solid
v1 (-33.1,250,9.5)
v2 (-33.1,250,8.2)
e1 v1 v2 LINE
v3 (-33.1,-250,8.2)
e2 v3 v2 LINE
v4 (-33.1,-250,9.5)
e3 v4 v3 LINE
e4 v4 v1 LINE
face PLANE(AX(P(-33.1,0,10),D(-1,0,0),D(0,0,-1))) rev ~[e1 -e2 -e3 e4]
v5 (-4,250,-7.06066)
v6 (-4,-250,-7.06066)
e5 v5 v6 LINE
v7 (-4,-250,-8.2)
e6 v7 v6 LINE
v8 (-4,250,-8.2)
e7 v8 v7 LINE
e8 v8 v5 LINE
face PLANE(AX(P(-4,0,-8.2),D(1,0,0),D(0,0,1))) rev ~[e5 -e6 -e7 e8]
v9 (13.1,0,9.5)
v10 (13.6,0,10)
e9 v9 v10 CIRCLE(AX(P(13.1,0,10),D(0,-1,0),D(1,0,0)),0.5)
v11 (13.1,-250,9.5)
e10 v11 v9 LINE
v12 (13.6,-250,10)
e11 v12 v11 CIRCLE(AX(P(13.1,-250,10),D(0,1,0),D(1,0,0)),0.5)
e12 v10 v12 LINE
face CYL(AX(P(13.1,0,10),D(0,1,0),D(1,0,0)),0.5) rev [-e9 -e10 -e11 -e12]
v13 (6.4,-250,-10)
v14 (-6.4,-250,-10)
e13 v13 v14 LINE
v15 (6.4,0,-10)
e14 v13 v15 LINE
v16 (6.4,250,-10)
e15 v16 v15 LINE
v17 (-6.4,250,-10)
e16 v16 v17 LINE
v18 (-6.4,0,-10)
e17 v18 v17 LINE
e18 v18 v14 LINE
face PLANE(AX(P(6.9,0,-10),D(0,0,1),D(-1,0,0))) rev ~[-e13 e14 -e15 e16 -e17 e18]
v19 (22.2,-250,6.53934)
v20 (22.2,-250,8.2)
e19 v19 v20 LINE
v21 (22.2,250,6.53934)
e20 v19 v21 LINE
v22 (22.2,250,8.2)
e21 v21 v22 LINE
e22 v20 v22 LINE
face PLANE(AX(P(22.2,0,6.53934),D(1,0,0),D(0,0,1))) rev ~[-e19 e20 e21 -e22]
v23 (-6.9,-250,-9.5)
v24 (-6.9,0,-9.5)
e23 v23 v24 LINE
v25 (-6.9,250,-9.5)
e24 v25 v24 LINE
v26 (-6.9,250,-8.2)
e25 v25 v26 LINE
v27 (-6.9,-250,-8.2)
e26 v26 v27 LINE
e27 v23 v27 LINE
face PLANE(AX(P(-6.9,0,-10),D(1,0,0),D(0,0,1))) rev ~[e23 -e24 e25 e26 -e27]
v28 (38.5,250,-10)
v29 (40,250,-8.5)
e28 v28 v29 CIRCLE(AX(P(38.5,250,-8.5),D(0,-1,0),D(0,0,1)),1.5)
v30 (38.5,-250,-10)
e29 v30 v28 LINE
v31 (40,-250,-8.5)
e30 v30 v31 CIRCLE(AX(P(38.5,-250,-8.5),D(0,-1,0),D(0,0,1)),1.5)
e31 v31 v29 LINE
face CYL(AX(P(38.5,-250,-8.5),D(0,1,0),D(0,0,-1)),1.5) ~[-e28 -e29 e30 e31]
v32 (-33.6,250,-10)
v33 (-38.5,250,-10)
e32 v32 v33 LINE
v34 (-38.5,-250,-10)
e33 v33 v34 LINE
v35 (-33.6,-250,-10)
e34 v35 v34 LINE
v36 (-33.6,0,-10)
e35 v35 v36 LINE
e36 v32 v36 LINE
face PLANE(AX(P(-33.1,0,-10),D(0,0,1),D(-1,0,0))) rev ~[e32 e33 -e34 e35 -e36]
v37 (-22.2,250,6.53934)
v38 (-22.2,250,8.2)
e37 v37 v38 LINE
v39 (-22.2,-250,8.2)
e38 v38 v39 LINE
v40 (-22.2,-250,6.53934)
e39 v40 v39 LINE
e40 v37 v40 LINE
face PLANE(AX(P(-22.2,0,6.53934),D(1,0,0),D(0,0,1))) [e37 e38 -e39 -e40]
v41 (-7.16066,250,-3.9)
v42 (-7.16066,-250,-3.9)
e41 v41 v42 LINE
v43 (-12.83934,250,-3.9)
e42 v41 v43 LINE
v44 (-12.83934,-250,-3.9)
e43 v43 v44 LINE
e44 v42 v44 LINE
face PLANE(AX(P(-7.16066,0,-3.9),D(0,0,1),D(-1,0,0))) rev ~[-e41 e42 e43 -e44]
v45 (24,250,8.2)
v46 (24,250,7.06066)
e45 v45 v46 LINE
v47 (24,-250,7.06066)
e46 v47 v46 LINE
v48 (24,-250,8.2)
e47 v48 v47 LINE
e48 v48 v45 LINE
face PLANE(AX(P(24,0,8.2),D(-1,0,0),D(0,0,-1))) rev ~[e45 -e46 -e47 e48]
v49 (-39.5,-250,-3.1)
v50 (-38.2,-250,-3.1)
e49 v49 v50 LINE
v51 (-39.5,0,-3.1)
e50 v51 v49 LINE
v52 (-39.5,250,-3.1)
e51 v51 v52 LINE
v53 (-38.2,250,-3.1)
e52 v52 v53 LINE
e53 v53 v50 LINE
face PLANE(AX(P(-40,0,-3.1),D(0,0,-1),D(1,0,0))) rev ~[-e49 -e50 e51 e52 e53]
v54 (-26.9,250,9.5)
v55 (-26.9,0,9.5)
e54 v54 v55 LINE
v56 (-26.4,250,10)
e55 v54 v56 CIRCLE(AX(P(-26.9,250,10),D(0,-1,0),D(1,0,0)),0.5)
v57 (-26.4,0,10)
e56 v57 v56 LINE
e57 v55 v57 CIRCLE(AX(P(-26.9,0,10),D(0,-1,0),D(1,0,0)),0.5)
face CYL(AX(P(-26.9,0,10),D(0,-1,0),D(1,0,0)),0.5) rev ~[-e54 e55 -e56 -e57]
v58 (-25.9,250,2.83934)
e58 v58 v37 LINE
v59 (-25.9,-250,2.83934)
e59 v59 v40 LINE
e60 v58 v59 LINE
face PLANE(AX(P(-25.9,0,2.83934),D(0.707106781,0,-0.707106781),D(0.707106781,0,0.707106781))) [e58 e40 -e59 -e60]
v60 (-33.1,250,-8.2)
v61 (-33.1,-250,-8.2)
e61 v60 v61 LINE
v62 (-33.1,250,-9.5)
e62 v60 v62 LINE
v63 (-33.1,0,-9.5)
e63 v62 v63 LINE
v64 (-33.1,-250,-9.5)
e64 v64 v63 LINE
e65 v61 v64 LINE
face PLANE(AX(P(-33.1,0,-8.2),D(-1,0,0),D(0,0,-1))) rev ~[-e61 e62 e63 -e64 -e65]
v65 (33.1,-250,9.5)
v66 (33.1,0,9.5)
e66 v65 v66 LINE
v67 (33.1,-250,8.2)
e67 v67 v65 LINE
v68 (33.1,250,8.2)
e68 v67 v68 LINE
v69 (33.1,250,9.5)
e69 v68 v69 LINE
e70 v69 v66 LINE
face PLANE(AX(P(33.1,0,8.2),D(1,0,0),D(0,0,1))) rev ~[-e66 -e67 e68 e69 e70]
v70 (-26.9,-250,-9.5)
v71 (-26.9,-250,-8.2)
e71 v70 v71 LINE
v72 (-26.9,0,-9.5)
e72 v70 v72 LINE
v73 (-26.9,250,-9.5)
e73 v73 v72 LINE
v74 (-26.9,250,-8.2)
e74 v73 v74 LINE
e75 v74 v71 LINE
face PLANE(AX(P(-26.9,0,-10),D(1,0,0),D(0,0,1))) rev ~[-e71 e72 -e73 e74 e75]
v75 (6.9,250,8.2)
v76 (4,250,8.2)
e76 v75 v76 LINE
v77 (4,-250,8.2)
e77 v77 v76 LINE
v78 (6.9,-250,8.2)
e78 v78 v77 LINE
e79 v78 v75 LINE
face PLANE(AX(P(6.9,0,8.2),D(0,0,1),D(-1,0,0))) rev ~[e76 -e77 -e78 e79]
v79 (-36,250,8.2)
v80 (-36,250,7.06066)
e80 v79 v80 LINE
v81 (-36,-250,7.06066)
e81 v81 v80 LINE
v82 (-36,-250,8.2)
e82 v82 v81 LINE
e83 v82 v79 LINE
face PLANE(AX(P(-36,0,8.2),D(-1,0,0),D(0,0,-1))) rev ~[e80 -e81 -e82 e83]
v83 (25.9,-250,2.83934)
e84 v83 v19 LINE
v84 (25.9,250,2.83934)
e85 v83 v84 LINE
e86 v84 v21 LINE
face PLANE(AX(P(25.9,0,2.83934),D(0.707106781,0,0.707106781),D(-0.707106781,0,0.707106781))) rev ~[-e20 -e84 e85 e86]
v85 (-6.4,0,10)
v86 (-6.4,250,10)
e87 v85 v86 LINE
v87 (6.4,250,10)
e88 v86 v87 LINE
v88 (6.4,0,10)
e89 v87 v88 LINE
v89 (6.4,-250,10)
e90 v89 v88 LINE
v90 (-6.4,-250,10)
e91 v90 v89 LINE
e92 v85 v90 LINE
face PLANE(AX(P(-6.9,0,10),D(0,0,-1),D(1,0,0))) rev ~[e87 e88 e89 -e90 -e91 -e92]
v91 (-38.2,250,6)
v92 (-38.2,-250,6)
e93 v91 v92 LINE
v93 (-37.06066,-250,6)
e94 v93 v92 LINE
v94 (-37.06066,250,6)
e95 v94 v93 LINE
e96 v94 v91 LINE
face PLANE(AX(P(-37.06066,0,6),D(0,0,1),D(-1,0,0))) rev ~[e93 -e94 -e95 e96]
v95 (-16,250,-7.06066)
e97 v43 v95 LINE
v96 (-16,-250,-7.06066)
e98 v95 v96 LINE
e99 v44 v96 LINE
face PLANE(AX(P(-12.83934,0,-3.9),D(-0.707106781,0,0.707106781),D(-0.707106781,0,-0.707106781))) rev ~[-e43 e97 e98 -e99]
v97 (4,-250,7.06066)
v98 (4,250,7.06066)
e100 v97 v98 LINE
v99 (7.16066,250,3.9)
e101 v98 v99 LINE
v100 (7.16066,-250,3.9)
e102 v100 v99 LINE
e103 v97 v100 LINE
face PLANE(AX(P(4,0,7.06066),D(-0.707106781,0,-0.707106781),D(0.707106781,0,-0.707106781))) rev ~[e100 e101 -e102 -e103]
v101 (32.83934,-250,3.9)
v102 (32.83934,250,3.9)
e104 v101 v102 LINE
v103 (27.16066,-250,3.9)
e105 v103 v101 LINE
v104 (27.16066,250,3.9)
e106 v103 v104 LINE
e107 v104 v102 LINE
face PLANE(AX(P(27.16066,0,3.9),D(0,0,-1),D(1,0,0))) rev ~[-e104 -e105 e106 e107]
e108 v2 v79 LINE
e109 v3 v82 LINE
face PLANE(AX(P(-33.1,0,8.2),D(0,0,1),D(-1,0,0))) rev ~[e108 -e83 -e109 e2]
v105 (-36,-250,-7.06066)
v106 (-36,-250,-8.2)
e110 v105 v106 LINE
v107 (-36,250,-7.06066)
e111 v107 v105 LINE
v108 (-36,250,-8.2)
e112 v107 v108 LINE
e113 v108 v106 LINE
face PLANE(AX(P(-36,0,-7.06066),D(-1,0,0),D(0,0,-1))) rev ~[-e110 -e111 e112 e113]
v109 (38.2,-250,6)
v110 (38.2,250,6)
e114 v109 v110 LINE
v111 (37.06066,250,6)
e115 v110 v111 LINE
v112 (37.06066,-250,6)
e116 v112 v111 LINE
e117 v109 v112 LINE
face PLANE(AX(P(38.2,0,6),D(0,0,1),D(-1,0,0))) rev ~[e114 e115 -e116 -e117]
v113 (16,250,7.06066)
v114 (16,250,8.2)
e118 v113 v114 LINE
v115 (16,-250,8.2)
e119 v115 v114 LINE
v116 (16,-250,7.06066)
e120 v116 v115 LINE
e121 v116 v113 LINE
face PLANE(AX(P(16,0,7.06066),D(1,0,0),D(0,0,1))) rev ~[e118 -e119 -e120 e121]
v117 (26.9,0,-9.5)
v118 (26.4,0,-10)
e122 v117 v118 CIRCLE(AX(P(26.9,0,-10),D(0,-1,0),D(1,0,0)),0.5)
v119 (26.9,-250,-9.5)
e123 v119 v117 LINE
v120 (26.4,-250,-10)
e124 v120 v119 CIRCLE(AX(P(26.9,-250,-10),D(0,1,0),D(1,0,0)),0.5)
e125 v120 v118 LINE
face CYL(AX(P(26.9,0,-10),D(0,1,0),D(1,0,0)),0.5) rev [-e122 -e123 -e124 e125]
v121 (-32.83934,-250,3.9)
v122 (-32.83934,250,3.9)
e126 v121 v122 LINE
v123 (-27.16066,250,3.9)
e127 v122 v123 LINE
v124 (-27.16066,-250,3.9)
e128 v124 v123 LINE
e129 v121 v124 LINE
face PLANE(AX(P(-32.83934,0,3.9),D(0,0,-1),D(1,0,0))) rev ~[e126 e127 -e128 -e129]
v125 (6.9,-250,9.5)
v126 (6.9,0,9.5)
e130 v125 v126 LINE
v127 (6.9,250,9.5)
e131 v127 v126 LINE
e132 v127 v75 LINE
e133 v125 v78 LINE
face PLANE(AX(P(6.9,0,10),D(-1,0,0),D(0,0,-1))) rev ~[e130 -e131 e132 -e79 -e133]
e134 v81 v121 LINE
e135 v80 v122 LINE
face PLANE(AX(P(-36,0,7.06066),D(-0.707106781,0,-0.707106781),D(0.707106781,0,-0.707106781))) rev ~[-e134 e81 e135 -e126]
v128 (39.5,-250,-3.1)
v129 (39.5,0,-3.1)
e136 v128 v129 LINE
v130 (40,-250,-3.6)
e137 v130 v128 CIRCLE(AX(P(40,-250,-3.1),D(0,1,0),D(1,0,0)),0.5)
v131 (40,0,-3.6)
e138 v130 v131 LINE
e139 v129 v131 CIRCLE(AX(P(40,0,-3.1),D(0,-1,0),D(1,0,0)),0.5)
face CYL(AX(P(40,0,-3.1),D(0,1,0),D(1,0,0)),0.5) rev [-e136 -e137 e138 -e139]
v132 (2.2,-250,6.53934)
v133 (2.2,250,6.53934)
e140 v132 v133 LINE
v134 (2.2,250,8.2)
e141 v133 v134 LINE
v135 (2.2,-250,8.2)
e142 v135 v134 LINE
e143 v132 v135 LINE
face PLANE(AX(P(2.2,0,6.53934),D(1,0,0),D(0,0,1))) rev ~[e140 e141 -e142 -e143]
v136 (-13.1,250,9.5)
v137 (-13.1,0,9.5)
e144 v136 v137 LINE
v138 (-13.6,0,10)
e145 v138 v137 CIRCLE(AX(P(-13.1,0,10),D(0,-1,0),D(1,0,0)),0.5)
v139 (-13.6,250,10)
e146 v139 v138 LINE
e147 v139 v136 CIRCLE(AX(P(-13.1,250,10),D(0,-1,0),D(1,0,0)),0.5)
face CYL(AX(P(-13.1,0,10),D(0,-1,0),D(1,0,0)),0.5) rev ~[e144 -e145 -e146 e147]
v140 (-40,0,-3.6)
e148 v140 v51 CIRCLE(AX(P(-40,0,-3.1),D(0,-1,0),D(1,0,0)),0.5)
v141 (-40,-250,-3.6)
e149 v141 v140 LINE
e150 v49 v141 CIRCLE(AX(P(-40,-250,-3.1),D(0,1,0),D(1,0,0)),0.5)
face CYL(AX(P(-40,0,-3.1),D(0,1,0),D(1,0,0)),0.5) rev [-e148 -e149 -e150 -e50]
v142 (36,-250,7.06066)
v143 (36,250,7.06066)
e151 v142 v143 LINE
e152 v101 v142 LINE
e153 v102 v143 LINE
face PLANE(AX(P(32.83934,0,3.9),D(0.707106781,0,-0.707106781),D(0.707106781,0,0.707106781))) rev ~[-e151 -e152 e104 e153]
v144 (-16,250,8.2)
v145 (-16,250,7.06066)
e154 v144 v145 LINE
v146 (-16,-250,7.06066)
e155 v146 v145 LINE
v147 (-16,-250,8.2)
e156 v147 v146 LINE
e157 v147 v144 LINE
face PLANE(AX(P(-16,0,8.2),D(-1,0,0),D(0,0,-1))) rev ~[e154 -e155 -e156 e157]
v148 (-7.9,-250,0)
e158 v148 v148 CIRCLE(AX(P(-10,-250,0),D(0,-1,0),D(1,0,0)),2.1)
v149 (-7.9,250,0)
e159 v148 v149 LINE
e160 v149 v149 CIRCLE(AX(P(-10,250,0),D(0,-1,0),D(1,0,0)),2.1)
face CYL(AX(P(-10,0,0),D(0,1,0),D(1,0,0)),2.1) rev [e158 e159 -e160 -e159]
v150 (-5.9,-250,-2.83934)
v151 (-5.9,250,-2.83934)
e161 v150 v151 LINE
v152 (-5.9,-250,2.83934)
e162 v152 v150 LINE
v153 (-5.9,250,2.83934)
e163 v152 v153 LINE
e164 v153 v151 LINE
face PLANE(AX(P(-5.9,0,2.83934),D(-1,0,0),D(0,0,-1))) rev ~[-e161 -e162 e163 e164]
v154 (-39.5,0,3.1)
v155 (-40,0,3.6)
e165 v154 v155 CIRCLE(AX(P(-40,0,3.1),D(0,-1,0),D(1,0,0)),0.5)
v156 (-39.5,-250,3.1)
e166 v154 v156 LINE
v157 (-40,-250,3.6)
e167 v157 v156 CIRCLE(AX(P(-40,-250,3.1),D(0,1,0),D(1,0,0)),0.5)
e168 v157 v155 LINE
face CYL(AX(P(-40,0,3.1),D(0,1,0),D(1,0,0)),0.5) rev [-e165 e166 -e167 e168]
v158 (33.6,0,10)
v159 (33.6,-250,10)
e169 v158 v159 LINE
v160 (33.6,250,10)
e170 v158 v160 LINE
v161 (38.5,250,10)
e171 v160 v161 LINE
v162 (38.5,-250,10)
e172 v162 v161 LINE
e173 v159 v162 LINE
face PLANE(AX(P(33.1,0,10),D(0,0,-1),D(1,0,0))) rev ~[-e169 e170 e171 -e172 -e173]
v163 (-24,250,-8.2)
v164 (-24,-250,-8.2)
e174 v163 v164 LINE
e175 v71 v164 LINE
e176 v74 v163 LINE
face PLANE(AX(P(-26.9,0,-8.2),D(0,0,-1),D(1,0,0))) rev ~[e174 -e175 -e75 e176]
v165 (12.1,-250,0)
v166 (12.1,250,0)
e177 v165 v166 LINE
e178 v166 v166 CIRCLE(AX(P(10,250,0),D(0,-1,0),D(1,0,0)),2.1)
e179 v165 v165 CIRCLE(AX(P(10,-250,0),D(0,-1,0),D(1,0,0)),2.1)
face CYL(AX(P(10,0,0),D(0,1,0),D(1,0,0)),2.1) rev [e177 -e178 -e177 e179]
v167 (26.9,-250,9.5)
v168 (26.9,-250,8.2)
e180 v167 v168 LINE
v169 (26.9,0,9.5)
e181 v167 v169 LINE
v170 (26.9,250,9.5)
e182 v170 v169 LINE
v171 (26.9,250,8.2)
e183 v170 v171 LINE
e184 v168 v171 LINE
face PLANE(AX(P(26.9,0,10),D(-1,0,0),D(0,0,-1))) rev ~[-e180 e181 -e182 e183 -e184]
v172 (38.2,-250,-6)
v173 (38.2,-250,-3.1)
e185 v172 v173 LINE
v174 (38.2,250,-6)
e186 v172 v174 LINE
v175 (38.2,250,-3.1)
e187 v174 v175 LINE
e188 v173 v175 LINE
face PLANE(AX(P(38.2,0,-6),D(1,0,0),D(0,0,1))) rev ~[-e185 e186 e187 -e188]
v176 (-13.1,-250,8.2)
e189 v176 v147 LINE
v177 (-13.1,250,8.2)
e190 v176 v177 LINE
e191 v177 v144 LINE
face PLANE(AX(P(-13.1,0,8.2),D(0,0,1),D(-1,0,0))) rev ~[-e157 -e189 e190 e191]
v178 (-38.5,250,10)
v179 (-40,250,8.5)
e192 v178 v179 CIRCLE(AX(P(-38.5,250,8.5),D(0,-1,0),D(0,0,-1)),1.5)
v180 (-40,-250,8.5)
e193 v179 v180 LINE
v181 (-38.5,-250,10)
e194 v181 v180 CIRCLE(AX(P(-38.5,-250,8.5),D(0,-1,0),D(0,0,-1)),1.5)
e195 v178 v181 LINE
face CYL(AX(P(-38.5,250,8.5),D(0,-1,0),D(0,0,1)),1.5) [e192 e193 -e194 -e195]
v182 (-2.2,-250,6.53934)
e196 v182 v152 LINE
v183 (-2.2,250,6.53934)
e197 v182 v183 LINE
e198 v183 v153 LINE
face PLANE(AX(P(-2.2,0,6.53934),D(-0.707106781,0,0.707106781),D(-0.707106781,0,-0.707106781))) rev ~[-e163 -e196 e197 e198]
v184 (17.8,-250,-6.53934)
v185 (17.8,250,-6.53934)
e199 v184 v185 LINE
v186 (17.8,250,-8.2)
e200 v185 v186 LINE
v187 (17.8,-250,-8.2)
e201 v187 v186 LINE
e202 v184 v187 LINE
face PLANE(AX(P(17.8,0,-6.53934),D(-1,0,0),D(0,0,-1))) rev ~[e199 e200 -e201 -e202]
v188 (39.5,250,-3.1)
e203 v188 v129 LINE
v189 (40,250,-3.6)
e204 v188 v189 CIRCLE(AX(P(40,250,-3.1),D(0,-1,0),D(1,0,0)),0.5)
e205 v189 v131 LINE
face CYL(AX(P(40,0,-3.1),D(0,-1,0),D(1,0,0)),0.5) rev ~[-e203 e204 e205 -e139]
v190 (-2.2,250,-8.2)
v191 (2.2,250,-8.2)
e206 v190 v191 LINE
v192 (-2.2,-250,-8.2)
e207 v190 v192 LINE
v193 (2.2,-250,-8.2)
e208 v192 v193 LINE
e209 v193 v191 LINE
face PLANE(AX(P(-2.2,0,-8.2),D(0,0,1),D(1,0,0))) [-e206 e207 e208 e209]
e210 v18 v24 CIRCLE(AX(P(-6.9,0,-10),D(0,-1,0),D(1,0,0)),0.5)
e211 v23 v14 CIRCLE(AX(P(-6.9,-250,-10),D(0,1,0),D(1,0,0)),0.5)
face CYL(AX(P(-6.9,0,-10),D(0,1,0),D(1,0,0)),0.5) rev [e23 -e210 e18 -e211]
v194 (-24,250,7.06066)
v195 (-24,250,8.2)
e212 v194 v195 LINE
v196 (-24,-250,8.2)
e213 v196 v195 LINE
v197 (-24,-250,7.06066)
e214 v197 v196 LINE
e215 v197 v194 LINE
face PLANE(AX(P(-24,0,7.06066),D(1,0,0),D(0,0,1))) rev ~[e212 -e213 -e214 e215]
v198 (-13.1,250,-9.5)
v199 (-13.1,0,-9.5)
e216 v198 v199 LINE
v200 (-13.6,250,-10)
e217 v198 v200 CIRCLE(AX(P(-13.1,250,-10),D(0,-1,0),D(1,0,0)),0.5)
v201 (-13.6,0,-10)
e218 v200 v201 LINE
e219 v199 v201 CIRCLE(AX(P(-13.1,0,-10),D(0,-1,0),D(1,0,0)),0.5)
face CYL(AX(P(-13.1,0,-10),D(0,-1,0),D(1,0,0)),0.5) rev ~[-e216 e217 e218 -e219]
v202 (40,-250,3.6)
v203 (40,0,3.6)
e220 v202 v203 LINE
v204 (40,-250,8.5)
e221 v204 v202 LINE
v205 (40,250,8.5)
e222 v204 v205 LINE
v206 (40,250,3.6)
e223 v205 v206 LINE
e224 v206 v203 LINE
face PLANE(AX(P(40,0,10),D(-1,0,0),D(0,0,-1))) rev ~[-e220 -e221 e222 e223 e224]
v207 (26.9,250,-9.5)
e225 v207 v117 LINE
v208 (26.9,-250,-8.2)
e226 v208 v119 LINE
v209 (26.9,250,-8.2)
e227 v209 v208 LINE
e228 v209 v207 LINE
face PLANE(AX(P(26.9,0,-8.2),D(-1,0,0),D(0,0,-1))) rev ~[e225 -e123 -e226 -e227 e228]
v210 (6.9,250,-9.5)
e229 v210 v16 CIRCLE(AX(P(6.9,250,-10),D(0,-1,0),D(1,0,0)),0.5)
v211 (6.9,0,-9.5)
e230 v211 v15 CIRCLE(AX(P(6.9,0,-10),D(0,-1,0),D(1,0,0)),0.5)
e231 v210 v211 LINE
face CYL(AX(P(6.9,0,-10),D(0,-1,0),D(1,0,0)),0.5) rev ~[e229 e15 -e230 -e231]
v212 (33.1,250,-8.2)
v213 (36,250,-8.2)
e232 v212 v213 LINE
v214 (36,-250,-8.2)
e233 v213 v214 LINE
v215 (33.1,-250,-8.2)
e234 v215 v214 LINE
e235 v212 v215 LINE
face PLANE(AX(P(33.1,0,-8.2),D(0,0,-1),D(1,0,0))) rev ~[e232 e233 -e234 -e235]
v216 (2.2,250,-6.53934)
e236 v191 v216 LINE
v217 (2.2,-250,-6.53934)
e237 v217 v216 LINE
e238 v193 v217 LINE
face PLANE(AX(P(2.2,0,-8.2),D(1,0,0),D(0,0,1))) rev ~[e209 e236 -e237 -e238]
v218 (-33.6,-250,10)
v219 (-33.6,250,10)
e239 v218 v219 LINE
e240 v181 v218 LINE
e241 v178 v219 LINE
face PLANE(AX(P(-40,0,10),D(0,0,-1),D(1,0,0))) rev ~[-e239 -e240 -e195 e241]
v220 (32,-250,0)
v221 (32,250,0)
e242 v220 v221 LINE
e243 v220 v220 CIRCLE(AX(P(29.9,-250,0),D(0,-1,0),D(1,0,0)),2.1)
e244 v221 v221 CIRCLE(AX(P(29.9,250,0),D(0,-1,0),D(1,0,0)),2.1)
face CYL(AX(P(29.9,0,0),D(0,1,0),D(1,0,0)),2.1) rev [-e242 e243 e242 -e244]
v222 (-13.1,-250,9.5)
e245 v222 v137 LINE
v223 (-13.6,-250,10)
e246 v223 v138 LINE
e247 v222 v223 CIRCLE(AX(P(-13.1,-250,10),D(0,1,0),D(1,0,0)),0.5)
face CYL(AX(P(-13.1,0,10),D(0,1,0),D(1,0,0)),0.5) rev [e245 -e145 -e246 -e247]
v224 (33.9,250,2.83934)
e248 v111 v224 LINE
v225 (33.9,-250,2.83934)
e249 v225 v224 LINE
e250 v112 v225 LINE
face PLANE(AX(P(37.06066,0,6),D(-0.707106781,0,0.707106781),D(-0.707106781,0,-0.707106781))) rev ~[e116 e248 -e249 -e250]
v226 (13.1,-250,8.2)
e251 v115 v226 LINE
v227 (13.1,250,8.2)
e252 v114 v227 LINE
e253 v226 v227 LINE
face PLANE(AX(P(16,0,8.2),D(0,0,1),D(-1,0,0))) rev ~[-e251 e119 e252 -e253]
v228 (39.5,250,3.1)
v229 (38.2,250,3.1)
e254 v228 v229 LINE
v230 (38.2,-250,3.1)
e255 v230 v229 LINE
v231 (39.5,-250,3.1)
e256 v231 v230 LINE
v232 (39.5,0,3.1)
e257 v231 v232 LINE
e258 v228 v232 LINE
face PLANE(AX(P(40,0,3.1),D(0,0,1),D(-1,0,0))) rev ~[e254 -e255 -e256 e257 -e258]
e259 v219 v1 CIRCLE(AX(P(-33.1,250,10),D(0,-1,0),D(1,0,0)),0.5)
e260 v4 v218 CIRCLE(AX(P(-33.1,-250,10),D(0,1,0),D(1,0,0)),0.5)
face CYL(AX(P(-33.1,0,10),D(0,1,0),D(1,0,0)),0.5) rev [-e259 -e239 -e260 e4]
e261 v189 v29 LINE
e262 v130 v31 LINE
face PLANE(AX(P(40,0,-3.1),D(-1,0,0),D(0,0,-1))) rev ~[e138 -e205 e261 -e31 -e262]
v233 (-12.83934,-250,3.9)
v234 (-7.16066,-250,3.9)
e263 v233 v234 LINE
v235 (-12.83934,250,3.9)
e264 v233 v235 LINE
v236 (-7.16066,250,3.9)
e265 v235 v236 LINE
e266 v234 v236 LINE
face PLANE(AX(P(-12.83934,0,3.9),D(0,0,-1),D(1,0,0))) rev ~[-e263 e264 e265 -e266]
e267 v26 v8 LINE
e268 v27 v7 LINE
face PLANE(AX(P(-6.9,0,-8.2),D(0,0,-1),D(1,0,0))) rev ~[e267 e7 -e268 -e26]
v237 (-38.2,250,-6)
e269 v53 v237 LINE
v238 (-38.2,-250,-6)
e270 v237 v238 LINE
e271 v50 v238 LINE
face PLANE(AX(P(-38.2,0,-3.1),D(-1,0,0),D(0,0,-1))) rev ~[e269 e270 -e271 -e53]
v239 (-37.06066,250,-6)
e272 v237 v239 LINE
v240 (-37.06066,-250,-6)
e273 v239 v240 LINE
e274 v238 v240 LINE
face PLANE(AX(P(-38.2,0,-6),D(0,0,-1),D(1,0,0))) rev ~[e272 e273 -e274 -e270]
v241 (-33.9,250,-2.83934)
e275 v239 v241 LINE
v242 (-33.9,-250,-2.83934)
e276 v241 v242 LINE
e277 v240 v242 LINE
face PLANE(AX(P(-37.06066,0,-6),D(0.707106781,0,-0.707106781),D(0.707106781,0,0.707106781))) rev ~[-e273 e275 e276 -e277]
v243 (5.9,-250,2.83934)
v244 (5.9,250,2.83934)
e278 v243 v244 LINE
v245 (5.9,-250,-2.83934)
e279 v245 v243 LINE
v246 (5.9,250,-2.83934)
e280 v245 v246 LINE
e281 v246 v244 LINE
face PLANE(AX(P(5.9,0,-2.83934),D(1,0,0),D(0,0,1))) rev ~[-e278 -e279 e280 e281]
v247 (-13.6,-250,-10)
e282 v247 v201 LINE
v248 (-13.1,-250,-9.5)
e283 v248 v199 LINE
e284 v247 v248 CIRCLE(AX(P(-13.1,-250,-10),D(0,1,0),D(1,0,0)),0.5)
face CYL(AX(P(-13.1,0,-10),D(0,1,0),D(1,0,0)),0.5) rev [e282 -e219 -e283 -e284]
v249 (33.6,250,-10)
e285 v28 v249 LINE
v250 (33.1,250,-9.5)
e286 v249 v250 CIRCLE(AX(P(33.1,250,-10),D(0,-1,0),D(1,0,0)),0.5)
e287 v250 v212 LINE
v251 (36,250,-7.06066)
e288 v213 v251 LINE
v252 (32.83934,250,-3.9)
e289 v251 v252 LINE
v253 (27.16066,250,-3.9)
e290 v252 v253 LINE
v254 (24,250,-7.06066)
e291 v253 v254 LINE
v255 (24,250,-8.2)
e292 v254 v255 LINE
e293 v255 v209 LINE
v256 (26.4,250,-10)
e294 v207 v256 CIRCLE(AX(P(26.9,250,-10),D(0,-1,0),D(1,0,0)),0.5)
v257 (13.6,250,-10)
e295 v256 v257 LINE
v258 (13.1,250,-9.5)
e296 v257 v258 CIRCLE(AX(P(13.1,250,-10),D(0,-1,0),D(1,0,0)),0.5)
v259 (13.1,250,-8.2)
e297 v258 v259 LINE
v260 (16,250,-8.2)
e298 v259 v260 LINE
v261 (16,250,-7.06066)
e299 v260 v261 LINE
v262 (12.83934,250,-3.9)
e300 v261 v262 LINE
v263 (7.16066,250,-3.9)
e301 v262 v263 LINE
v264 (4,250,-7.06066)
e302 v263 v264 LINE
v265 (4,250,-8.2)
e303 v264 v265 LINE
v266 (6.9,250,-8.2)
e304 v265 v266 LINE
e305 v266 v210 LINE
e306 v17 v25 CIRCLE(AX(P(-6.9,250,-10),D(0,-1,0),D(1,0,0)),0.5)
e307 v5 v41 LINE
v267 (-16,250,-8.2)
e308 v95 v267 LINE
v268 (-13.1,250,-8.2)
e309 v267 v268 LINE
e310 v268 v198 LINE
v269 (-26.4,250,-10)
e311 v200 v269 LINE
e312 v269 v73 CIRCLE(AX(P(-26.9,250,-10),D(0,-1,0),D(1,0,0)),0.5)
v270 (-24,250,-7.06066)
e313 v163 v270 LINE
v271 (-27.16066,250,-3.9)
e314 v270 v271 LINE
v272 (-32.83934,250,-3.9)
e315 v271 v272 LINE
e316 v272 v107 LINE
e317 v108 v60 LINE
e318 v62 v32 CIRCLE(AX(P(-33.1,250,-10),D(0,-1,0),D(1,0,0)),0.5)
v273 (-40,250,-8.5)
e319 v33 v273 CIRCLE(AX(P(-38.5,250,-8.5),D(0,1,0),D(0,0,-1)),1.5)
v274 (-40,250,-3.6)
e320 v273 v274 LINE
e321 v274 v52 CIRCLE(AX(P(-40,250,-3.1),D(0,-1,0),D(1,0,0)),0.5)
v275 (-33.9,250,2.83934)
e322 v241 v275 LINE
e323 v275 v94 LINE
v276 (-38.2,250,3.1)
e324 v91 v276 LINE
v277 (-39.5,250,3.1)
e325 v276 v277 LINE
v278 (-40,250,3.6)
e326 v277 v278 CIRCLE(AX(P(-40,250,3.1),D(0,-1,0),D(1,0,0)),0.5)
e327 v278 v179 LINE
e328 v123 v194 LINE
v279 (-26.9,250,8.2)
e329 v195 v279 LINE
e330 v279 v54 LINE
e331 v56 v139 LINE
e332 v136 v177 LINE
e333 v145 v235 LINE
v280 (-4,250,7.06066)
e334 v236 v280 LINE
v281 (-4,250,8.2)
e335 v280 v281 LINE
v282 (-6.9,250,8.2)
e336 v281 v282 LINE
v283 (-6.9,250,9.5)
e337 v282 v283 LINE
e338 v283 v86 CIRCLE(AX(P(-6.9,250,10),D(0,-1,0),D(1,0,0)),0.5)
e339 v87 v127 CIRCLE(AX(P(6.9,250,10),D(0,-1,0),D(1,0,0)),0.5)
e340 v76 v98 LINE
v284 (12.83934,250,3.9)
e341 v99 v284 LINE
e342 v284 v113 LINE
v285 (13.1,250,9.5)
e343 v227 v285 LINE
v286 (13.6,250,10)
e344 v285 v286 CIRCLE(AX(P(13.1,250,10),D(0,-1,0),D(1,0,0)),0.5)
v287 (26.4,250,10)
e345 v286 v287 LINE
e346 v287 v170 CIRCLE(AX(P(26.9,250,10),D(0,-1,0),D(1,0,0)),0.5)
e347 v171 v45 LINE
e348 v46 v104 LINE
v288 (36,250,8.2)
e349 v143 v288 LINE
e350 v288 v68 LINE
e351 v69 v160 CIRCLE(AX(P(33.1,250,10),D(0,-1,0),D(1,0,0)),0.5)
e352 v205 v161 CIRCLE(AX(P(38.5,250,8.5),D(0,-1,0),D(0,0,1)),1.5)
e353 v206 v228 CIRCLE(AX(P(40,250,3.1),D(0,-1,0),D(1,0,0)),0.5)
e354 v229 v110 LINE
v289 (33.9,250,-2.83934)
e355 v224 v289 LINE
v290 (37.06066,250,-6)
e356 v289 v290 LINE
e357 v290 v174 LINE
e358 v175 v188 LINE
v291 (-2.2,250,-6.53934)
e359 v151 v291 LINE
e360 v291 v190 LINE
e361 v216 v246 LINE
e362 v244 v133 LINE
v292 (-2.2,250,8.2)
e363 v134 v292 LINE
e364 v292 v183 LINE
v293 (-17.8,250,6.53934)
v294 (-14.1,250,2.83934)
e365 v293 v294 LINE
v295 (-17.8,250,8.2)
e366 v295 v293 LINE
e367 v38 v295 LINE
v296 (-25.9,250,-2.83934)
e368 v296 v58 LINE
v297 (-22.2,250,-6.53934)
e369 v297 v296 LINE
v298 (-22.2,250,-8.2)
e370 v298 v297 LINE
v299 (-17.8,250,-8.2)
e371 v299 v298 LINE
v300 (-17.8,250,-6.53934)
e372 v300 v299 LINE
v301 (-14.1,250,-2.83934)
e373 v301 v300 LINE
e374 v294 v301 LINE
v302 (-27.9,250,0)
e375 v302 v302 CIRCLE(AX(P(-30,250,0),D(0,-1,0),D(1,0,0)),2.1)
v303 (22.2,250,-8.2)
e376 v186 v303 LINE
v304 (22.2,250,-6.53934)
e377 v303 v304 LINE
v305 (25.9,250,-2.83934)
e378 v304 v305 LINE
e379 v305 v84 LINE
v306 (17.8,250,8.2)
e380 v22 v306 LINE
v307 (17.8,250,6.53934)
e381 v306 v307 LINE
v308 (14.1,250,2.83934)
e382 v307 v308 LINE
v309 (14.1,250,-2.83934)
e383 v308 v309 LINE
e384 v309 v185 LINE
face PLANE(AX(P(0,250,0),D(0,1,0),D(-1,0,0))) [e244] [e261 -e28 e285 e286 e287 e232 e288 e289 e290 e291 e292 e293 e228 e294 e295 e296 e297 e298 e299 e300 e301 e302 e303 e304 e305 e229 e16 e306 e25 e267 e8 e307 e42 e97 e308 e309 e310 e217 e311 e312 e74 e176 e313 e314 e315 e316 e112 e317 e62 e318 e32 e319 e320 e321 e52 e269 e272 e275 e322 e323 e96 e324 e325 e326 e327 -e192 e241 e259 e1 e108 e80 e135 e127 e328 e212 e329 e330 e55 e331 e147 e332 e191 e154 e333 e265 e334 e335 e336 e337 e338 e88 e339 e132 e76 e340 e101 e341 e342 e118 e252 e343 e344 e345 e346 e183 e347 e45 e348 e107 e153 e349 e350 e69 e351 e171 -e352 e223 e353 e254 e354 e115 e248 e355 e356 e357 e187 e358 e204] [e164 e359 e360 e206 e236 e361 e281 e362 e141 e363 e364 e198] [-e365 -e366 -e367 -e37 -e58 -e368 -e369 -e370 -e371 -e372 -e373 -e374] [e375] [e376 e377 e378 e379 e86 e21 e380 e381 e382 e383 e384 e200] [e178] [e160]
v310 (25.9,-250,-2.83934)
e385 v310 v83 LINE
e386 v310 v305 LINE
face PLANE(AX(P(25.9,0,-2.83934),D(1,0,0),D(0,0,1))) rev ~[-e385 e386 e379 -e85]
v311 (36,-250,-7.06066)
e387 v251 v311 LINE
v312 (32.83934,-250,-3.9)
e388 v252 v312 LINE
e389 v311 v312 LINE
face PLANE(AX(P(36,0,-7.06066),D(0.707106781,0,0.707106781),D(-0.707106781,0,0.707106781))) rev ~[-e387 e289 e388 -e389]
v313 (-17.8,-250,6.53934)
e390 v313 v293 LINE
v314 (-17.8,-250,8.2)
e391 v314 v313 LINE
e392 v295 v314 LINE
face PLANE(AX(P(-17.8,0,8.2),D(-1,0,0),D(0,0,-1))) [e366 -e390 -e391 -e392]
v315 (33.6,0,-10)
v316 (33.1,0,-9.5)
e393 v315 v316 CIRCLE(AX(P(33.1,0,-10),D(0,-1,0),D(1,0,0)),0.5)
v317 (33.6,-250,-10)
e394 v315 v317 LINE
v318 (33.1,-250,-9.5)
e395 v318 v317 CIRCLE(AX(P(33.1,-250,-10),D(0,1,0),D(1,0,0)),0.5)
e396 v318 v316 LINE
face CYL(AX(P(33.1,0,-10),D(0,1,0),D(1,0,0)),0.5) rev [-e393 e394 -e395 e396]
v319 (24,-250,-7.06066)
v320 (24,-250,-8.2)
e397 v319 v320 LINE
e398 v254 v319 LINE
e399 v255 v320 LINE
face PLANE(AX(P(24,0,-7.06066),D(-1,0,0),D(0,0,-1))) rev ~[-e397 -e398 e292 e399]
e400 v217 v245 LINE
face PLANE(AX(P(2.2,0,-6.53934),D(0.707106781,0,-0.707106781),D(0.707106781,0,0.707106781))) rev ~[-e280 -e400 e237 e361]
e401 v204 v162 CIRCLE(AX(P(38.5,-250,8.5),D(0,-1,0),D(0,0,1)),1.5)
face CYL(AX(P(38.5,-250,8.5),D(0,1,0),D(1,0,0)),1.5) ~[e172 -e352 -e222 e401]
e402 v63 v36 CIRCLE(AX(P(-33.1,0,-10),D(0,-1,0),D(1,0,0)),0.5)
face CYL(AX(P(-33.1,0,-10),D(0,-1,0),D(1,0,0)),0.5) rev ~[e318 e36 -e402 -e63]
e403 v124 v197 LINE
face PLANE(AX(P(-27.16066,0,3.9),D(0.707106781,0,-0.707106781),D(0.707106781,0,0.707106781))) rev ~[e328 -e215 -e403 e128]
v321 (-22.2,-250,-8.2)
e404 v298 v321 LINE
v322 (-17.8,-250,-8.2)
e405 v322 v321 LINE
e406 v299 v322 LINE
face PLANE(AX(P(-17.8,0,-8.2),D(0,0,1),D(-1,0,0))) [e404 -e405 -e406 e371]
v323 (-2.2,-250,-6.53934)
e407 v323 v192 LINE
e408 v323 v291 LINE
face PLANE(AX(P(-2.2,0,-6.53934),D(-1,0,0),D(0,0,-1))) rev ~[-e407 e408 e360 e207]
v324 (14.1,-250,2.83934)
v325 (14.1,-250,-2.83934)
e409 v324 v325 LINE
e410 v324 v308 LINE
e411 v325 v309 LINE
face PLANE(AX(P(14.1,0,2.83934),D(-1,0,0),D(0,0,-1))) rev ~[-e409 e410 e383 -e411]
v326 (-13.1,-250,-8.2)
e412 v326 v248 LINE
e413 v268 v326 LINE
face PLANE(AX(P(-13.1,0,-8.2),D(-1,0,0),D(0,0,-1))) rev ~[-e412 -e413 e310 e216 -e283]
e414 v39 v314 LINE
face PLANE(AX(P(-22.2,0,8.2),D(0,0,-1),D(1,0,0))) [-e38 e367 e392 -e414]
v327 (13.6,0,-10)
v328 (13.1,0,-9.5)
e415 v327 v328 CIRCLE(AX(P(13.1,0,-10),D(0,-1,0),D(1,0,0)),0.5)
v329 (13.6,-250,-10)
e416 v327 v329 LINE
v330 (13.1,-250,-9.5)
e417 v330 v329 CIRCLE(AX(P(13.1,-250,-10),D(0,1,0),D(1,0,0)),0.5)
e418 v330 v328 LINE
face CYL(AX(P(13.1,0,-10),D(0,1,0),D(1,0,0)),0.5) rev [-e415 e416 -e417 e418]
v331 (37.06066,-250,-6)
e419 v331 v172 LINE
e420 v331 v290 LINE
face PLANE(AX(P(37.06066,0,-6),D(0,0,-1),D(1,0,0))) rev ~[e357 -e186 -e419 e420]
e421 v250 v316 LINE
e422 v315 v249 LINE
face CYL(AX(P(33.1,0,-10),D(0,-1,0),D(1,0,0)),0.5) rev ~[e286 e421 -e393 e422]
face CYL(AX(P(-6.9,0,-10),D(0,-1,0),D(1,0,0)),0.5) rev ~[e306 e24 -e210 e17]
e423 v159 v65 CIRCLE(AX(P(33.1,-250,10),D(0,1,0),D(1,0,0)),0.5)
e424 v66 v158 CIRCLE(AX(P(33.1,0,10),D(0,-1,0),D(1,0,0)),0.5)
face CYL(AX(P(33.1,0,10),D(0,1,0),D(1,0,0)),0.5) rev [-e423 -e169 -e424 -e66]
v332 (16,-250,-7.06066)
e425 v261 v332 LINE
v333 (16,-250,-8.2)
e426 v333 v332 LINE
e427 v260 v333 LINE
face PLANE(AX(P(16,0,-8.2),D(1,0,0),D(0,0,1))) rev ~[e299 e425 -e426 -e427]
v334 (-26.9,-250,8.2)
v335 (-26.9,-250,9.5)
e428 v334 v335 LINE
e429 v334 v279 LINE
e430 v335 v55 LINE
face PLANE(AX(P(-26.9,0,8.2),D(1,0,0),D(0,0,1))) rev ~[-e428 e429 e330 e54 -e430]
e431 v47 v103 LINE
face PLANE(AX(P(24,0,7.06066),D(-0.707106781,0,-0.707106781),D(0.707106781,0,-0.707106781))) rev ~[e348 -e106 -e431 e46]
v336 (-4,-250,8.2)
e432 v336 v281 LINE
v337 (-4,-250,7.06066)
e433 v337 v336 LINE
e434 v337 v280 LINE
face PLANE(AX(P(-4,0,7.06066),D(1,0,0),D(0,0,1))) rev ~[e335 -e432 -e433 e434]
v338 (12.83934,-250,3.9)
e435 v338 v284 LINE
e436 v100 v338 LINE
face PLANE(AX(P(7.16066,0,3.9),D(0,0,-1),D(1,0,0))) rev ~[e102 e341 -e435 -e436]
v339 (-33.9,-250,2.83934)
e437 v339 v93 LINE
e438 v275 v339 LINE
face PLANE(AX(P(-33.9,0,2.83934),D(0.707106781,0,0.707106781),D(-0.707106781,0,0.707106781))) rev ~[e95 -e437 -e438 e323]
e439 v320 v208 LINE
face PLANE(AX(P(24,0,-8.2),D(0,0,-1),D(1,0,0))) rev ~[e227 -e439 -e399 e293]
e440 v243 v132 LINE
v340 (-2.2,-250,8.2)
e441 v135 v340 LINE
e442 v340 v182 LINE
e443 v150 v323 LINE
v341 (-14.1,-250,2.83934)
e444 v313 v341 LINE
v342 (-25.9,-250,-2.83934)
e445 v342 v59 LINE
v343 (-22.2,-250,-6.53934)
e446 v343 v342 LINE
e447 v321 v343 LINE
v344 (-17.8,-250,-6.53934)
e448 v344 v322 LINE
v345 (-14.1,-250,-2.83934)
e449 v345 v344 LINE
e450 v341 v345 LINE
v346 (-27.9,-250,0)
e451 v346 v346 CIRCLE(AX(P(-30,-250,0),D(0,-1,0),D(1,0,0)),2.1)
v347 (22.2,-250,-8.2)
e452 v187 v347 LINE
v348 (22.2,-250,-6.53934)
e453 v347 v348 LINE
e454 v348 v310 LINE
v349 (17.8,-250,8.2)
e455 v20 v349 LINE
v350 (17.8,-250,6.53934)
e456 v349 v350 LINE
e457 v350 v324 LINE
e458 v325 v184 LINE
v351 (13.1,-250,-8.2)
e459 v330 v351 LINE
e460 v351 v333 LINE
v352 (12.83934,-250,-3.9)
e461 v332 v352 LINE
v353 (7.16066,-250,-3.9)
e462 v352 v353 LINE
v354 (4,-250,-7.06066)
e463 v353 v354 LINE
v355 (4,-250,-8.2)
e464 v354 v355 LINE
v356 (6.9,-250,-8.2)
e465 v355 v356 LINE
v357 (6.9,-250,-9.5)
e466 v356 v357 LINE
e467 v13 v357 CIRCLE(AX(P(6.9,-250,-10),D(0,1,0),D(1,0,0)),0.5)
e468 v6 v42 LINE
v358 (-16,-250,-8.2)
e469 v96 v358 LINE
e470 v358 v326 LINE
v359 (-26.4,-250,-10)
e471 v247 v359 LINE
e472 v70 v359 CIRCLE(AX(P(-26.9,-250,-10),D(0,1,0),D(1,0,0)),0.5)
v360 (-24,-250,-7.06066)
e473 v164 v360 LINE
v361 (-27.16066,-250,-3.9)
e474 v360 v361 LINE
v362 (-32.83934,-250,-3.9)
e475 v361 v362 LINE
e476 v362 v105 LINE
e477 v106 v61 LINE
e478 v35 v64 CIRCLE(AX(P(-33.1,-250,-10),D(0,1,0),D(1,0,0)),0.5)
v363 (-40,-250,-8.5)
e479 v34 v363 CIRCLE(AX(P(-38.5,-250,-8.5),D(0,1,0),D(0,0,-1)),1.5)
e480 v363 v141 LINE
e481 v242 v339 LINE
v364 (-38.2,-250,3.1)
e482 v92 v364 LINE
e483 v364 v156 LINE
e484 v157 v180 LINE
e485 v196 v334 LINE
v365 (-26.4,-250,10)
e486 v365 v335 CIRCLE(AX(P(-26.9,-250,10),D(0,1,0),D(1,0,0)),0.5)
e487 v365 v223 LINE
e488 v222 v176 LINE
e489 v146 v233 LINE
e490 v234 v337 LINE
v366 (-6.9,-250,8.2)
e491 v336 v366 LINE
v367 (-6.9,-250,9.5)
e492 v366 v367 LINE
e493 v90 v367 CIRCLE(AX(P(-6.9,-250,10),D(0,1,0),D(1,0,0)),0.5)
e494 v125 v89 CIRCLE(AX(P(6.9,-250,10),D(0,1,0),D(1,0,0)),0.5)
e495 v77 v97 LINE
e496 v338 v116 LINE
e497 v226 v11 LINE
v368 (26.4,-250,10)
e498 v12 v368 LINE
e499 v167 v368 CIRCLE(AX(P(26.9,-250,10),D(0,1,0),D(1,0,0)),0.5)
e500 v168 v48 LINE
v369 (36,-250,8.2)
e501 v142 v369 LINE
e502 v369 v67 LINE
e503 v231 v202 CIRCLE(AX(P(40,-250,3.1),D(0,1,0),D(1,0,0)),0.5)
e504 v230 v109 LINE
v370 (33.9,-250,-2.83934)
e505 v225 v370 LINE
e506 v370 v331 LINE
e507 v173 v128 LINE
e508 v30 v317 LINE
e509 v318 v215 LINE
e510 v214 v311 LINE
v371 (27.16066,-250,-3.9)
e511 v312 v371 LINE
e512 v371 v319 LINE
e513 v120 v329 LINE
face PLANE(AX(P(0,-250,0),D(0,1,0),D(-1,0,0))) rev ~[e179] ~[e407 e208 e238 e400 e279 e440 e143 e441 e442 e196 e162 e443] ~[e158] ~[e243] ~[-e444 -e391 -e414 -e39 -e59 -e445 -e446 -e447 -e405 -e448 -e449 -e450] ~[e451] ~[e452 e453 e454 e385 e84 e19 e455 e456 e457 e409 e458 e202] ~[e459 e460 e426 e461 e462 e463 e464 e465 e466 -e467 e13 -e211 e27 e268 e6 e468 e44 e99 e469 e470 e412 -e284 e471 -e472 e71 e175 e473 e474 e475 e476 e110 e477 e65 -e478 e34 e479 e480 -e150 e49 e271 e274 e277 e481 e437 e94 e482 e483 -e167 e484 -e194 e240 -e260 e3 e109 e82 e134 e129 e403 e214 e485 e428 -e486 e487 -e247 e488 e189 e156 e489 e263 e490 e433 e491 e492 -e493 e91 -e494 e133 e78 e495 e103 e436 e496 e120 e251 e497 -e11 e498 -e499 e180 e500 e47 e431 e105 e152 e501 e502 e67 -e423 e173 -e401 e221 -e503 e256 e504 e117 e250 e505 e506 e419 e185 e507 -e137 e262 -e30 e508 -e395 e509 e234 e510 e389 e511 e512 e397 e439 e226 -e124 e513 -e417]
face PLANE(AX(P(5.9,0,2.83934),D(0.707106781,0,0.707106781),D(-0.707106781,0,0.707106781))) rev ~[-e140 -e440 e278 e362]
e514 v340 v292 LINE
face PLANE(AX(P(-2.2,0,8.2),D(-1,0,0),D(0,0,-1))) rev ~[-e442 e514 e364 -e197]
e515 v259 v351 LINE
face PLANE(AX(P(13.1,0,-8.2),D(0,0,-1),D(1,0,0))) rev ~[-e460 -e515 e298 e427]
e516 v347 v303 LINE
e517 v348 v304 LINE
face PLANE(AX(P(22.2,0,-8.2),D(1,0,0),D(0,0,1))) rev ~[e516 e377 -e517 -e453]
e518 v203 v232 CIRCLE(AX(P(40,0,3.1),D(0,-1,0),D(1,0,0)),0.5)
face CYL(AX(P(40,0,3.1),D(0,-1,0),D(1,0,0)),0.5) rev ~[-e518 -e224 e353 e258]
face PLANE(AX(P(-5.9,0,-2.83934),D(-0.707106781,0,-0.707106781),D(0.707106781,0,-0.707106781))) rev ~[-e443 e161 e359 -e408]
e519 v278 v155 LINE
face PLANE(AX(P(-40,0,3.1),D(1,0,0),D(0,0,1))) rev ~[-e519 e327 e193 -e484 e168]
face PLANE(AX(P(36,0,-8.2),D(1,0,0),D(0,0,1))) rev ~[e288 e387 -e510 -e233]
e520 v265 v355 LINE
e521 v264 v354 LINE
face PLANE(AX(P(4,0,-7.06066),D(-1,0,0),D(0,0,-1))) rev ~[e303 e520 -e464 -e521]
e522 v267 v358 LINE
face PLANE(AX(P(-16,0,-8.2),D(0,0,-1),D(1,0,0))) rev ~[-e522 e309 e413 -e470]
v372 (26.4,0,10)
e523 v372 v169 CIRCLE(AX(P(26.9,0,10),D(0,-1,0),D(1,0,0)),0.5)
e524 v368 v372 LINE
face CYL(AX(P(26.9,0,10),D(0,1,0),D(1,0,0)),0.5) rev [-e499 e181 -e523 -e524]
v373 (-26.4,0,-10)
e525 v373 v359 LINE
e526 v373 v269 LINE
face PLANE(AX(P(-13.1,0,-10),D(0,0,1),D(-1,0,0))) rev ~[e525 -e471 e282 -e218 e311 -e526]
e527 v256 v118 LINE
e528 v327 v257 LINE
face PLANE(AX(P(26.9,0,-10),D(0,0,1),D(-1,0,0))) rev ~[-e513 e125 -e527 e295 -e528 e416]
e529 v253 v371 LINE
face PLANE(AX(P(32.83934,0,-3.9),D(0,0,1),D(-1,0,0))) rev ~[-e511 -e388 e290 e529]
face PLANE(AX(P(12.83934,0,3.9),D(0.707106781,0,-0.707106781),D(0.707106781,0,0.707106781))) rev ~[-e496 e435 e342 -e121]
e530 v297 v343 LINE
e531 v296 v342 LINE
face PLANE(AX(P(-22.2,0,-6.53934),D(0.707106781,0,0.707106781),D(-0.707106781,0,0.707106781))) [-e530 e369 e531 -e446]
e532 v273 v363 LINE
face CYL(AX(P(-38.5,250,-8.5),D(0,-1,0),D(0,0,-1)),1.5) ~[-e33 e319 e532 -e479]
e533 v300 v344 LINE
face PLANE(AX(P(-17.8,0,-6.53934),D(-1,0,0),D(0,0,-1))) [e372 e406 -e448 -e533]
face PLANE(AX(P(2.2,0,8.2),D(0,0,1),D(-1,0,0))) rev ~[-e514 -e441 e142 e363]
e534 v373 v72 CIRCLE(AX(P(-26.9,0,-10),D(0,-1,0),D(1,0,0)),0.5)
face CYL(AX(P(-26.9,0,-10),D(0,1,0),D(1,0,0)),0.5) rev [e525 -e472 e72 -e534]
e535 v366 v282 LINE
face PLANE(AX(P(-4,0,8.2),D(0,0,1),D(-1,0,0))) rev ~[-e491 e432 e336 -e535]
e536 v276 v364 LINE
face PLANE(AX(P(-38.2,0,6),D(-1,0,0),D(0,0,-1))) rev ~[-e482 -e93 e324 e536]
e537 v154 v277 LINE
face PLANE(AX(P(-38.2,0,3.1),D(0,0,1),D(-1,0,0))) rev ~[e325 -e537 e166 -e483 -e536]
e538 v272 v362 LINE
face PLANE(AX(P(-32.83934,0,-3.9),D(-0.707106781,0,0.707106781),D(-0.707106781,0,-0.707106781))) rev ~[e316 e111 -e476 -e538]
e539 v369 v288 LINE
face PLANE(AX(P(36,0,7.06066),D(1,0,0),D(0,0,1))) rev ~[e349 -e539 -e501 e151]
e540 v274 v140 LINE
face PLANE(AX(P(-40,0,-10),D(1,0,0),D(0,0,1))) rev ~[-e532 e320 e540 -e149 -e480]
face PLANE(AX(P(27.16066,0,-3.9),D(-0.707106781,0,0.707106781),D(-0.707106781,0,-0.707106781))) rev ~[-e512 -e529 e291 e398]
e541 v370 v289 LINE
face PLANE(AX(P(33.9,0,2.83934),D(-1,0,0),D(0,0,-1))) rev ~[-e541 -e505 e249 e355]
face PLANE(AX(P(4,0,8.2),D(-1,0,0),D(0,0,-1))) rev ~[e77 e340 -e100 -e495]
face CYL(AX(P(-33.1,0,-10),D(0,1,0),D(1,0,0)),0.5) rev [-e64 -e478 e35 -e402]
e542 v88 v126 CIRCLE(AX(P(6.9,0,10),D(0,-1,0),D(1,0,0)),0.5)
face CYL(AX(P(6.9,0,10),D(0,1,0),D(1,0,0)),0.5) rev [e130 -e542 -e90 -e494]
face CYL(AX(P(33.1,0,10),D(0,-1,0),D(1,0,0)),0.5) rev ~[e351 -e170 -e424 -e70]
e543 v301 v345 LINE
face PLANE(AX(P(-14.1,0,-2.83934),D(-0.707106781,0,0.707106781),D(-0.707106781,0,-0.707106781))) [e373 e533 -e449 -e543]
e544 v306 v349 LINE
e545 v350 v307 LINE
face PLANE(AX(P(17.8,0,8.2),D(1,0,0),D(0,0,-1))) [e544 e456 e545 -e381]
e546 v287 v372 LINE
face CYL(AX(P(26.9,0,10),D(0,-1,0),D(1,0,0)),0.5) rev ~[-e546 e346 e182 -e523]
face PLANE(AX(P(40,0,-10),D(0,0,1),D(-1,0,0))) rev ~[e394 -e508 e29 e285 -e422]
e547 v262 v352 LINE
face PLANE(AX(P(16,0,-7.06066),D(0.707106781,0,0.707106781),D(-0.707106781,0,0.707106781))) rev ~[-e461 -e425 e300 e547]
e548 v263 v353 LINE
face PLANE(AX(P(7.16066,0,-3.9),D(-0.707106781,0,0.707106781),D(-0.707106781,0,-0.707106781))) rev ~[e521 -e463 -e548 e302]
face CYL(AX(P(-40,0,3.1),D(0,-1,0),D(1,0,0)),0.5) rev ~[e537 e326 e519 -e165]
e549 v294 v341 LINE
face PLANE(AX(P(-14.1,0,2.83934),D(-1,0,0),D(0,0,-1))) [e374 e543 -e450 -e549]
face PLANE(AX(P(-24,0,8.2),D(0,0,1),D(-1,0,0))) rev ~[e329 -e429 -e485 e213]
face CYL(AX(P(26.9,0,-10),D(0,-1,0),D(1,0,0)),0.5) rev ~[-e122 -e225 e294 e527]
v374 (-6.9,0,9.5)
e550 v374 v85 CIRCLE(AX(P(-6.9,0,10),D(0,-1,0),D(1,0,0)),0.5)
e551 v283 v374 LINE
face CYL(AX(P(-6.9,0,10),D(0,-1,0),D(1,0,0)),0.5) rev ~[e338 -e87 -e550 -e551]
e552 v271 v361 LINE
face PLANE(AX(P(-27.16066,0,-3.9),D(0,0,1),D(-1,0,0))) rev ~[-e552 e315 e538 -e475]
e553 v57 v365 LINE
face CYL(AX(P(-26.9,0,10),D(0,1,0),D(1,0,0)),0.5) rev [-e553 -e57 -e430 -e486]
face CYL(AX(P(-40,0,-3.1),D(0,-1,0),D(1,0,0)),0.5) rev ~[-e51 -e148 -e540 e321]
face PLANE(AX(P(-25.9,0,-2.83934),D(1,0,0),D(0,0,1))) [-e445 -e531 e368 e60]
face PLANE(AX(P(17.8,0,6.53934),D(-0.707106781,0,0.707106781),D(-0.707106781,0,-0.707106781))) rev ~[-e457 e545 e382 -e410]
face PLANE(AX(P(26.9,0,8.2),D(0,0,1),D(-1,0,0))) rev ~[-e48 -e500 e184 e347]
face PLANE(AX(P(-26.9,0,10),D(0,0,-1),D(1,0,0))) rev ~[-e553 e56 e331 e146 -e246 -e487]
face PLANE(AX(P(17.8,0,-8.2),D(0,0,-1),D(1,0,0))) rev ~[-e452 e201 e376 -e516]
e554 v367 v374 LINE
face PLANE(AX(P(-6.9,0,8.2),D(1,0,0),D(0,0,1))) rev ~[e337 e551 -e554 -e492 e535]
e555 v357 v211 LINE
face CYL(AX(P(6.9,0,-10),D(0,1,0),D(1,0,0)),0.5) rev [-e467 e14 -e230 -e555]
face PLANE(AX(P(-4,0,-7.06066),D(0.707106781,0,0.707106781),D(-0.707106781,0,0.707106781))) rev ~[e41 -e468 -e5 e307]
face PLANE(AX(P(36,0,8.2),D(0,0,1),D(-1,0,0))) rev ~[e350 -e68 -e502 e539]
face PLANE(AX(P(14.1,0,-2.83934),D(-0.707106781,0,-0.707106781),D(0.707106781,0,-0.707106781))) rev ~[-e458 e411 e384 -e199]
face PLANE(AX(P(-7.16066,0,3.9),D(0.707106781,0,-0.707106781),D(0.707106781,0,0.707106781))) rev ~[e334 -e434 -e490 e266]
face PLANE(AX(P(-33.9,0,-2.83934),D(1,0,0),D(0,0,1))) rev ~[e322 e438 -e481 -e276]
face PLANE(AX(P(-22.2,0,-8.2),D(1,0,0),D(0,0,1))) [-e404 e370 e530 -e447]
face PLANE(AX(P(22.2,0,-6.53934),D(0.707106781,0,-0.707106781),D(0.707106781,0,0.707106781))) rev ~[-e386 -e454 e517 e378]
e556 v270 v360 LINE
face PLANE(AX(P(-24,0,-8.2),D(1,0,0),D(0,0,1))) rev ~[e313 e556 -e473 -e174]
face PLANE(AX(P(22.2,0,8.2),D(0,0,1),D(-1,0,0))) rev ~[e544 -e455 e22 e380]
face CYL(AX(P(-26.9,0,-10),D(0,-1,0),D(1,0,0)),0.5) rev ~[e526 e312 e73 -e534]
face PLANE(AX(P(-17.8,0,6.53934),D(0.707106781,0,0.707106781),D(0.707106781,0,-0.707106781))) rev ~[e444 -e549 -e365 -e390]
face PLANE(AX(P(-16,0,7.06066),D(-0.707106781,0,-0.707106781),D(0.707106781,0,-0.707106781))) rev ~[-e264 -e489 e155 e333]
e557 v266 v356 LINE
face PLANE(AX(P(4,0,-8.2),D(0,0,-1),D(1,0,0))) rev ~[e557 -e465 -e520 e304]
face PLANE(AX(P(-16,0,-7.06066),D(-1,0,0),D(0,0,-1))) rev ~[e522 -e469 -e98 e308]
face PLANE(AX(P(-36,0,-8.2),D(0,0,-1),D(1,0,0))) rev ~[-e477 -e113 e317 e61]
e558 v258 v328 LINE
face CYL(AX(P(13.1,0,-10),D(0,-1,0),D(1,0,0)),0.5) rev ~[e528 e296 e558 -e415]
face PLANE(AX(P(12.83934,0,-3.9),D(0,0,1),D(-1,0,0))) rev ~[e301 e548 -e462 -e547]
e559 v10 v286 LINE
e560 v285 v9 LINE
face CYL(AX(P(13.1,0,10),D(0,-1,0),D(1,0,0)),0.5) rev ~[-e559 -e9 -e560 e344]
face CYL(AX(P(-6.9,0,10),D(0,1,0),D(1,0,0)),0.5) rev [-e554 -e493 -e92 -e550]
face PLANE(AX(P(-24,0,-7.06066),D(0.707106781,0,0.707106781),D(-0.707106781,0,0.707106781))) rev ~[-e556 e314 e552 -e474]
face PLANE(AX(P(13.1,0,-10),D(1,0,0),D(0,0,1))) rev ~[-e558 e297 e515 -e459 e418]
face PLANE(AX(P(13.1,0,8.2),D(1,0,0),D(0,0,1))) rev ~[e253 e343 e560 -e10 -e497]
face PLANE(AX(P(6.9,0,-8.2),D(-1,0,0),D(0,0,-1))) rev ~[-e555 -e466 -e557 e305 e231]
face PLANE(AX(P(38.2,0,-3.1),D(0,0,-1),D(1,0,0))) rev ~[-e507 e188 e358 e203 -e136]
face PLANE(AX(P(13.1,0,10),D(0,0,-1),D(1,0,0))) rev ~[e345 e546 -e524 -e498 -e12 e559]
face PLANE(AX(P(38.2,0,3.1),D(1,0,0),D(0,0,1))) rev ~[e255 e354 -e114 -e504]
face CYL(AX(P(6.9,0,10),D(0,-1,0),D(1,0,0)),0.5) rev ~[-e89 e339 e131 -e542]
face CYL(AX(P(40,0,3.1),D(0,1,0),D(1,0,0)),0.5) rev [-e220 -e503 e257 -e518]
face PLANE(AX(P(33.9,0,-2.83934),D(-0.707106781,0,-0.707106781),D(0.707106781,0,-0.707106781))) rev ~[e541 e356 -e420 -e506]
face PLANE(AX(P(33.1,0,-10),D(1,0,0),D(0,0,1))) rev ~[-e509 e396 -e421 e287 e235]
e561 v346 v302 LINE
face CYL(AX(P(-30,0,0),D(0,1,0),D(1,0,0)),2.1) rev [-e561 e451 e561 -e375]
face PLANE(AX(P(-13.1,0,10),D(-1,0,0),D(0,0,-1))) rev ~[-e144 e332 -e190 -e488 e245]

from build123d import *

# Parameters (mm, degrees)
SKETCH_R          = 2.1
PAD_DEPTH         = 250
FILLET_R          = 1.5
SKETCH001_R       = 0.5
POCKET_DEPTH      = 250.001
POCKET_DEPTH_BACK = -250.001


with BuildPart() as part:
    # Sketch → Pad (new body, symmetric)
    with BuildSketch(Plane.XZ):
        Polygon((-10, 10), (-3.1, 10), (-3.1, 8.2), (-6, 8.2), (-6, 7.06066), (-2.83934, 3.9), (2.83934, 3.9), (6, 7.06066), (6, 8.2), (3.1, 8.2), (3.1, 10), (16.9, 10), (16.9, 8.2), (14, 8.2), (14, 7.06066), (17.16066, 3.9), (22.83934, 3.9), (26, 7.06066), (26, 8.2), (23.1, 8.2), (23.1, 10), (36.9, 10), (36.9, 8.2), (34, 8.2), (34, 7.06066), (37.16066, 3.9), (42.83934, 3.9), (46, 7.06066), (46, 8.2), (43.1, 8.2), (43.1, 10), (56.9, 10), (56.9, 8.2), (54, 8.2), (54, 7.06066), (57.16066, 3.9), (62.83934, 3.9), (66, 7.06066), (66, 8.2), (63.1, 8.2), (63.1, 10), (70, 10), (70, 3.1), (68.2, 3.1), (68.2, 6), (67.06066, 6), (63.9, 2.83934), (63.9, -2.83934), (67.06066, -6), (68.2, -6), (68.2, -3.1), (70, -3.1), (70, -10), (63.1, -10), (63.1, -8.2), (66, -8.2), (66, -7.06066), (62.83934, -3.9), (57.16066, -3.9), (54, -7.06066), (54, -8.2), (56.9, -8.2), (56.9, -10), (43.1, -10), (43.1, -8.2), (46, -8.2), (46, -7.06066), (42.83934, -3.9), (37.16066, -3.9), (34, -7.06066), (34, -8.2), (36.9, -8.2), (36.9, -10), (23.1, -10), (23.1, -8.2), (26, -8.2), (26, -7.06066), (22.83934, -3.9), (17.16066, -3.9), (14, -7.06066), (14, -8.2), (16.9, -8.2), (16.9, -10), (3.1, -10), (3.1, -8.2), (6, -8.2), (6, -7.06066), (2.83934, -3.9), (-2.83934, -3.9), (-6, -7.06066), (-6, -8.2), (-3.1, -8.2), (-3.1, -10), (-10, -10), (-10, -3.1), (-8.2, -3.1), (-8.2, -6), (-7.06066, -6), (-3.9, -2.83934), (-3.9, 2.83934), (-7.06066, 6), (-8.2, 6), (-8.2, 3.1), (-10, 3.1), align=None)
        Circle(SKETCH_R, mode=Mode.SUBTRACT)
        with Locations((20, 0)):
            Circle(SKETCH_R, mode=Mode.SUBTRACT)
        with Locations((40, 0)):
            Circle(SKETCH_R, mode=Mode.SUBTRACT)
        with Locations((59.9, 0)):
            Circle(SKETCH_R, mode=Mode.SUBTRACT)
        Polygon((7.8, -6.53934), (4.1, -2.83934), (4.1, 2.83934), (7.8, 6.53934), (7.8, 8.2), (12.2, 8.2), (12.2, 6.53934), (15.9, 2.83934), (15.9, -2.83934), (12.2, -6.53934), (12.2, -8.2), (7.8, -8.2), align=None, mode=Mode.SUBTRACT)
        Polygon((27.8, 8.2), (27.8, 6.53934), (24.1, 2.83934), (24.1, -2.83934), (27.8, -6.53934), (27.8, -8.2), (32.2, -8.2), (32.2, -6.53934), (35.9, -2.83934), (35.9, 2.83934), (32.2, 6.53934), (32.2, 8.2), align=None, mode=Mode.SUBTRACT)
        Polygon((47.8, 8.2), (47.8, 6.53934), (44.1, 2.83934), (44.1, -2.83934), (47.8, -6.53934), (47.8, -8.2), (52.2, -8.2), (52.2, -6.53934), (55.9, -2.83934), (55.9, 2.83934), (52.2, 6.53934), (52.2, 8.2), align=None, mode=Mode.SUBTRACT)
    extrude(amount=PAD_DEPTH, both=True)

    # Fillet
    fillet_edges = [part.edges().sort_by_distance(p)[0] for p in [
        (-10, 0, 10),
        (-10, 0, -10),
        (70, 0, -10),
        (70, 0, 10),
    ]]
    fillet(fillet_edges, radius=FILLET_R)

    # Sketch001 → Pocket (cut, two sides)
    with BuildSketch(Plane.XZ) as pocket_sk:
        with Locations((63.1, 10)):
            Circle(SKETCH001_R)
        with Locations((56.9, 10)):
            Circle(SKETCH001_R)
        with Locations((70, 3.1)):
            Circle(SKETCH001_R)
        with Locations((70, -3.1)):
            Circle(SKETCH001_R)
        with Locations((63.1, -10)):
            Circle(SKETCH001_R)
        with Locations((56.9, -10)):
            Circle(SKETCH001_R)
        with Locations((43.1, -10)):
            Circle(SKETCH001_R)
        with Locations((36.9, -10)):
            Circle(SKETCH001_R)
        with Locations((23.1, -10)):
            Circle(SKETCH001_R)
        with Locations((16.9, -10)):
            Circle(SKETCH001_R)
        with Locations((43.1, 10)):
            Circle(SKETCH001_R)
        with Locations((36.9, 10)):
            Circle(SKETCH001_R)
        with Locations((23.1, 10)):
            Circle(SKETCH001_R)
        with Locations((16.9, 10)):
            Circle(SKETCH001_R)
        with Locations((3.1, 10)):
            Circle(SKETCH001_R)
        with Locations((-3.1, 10)):
            Circle(SKETCH001_R)
        with Locations((-10, 3.1)):
            Circle(SKETCH001_R)
        with Locations((-10, -3.1)):
            Circle(SKETCH001_R)
        with Locations((-3.1, -10)):
            Circle(SKETCH001_R)
        with Locations((3.1, -10)):
            Circle(SKETCH001_R)
    extrude(amount=-POCKET_DEPTH, mode=Mode.SUBTRACT)
    extrude(pocket_sk.sketch, amount=-POCKET_DEPTH_BACK, mode=Mode.SUBTRACT)


with BuildPart() as part_1:
    # Body placement: moved
    add(part.part.moved(Location((-30, 0, 0))))


solid = part_1.part
